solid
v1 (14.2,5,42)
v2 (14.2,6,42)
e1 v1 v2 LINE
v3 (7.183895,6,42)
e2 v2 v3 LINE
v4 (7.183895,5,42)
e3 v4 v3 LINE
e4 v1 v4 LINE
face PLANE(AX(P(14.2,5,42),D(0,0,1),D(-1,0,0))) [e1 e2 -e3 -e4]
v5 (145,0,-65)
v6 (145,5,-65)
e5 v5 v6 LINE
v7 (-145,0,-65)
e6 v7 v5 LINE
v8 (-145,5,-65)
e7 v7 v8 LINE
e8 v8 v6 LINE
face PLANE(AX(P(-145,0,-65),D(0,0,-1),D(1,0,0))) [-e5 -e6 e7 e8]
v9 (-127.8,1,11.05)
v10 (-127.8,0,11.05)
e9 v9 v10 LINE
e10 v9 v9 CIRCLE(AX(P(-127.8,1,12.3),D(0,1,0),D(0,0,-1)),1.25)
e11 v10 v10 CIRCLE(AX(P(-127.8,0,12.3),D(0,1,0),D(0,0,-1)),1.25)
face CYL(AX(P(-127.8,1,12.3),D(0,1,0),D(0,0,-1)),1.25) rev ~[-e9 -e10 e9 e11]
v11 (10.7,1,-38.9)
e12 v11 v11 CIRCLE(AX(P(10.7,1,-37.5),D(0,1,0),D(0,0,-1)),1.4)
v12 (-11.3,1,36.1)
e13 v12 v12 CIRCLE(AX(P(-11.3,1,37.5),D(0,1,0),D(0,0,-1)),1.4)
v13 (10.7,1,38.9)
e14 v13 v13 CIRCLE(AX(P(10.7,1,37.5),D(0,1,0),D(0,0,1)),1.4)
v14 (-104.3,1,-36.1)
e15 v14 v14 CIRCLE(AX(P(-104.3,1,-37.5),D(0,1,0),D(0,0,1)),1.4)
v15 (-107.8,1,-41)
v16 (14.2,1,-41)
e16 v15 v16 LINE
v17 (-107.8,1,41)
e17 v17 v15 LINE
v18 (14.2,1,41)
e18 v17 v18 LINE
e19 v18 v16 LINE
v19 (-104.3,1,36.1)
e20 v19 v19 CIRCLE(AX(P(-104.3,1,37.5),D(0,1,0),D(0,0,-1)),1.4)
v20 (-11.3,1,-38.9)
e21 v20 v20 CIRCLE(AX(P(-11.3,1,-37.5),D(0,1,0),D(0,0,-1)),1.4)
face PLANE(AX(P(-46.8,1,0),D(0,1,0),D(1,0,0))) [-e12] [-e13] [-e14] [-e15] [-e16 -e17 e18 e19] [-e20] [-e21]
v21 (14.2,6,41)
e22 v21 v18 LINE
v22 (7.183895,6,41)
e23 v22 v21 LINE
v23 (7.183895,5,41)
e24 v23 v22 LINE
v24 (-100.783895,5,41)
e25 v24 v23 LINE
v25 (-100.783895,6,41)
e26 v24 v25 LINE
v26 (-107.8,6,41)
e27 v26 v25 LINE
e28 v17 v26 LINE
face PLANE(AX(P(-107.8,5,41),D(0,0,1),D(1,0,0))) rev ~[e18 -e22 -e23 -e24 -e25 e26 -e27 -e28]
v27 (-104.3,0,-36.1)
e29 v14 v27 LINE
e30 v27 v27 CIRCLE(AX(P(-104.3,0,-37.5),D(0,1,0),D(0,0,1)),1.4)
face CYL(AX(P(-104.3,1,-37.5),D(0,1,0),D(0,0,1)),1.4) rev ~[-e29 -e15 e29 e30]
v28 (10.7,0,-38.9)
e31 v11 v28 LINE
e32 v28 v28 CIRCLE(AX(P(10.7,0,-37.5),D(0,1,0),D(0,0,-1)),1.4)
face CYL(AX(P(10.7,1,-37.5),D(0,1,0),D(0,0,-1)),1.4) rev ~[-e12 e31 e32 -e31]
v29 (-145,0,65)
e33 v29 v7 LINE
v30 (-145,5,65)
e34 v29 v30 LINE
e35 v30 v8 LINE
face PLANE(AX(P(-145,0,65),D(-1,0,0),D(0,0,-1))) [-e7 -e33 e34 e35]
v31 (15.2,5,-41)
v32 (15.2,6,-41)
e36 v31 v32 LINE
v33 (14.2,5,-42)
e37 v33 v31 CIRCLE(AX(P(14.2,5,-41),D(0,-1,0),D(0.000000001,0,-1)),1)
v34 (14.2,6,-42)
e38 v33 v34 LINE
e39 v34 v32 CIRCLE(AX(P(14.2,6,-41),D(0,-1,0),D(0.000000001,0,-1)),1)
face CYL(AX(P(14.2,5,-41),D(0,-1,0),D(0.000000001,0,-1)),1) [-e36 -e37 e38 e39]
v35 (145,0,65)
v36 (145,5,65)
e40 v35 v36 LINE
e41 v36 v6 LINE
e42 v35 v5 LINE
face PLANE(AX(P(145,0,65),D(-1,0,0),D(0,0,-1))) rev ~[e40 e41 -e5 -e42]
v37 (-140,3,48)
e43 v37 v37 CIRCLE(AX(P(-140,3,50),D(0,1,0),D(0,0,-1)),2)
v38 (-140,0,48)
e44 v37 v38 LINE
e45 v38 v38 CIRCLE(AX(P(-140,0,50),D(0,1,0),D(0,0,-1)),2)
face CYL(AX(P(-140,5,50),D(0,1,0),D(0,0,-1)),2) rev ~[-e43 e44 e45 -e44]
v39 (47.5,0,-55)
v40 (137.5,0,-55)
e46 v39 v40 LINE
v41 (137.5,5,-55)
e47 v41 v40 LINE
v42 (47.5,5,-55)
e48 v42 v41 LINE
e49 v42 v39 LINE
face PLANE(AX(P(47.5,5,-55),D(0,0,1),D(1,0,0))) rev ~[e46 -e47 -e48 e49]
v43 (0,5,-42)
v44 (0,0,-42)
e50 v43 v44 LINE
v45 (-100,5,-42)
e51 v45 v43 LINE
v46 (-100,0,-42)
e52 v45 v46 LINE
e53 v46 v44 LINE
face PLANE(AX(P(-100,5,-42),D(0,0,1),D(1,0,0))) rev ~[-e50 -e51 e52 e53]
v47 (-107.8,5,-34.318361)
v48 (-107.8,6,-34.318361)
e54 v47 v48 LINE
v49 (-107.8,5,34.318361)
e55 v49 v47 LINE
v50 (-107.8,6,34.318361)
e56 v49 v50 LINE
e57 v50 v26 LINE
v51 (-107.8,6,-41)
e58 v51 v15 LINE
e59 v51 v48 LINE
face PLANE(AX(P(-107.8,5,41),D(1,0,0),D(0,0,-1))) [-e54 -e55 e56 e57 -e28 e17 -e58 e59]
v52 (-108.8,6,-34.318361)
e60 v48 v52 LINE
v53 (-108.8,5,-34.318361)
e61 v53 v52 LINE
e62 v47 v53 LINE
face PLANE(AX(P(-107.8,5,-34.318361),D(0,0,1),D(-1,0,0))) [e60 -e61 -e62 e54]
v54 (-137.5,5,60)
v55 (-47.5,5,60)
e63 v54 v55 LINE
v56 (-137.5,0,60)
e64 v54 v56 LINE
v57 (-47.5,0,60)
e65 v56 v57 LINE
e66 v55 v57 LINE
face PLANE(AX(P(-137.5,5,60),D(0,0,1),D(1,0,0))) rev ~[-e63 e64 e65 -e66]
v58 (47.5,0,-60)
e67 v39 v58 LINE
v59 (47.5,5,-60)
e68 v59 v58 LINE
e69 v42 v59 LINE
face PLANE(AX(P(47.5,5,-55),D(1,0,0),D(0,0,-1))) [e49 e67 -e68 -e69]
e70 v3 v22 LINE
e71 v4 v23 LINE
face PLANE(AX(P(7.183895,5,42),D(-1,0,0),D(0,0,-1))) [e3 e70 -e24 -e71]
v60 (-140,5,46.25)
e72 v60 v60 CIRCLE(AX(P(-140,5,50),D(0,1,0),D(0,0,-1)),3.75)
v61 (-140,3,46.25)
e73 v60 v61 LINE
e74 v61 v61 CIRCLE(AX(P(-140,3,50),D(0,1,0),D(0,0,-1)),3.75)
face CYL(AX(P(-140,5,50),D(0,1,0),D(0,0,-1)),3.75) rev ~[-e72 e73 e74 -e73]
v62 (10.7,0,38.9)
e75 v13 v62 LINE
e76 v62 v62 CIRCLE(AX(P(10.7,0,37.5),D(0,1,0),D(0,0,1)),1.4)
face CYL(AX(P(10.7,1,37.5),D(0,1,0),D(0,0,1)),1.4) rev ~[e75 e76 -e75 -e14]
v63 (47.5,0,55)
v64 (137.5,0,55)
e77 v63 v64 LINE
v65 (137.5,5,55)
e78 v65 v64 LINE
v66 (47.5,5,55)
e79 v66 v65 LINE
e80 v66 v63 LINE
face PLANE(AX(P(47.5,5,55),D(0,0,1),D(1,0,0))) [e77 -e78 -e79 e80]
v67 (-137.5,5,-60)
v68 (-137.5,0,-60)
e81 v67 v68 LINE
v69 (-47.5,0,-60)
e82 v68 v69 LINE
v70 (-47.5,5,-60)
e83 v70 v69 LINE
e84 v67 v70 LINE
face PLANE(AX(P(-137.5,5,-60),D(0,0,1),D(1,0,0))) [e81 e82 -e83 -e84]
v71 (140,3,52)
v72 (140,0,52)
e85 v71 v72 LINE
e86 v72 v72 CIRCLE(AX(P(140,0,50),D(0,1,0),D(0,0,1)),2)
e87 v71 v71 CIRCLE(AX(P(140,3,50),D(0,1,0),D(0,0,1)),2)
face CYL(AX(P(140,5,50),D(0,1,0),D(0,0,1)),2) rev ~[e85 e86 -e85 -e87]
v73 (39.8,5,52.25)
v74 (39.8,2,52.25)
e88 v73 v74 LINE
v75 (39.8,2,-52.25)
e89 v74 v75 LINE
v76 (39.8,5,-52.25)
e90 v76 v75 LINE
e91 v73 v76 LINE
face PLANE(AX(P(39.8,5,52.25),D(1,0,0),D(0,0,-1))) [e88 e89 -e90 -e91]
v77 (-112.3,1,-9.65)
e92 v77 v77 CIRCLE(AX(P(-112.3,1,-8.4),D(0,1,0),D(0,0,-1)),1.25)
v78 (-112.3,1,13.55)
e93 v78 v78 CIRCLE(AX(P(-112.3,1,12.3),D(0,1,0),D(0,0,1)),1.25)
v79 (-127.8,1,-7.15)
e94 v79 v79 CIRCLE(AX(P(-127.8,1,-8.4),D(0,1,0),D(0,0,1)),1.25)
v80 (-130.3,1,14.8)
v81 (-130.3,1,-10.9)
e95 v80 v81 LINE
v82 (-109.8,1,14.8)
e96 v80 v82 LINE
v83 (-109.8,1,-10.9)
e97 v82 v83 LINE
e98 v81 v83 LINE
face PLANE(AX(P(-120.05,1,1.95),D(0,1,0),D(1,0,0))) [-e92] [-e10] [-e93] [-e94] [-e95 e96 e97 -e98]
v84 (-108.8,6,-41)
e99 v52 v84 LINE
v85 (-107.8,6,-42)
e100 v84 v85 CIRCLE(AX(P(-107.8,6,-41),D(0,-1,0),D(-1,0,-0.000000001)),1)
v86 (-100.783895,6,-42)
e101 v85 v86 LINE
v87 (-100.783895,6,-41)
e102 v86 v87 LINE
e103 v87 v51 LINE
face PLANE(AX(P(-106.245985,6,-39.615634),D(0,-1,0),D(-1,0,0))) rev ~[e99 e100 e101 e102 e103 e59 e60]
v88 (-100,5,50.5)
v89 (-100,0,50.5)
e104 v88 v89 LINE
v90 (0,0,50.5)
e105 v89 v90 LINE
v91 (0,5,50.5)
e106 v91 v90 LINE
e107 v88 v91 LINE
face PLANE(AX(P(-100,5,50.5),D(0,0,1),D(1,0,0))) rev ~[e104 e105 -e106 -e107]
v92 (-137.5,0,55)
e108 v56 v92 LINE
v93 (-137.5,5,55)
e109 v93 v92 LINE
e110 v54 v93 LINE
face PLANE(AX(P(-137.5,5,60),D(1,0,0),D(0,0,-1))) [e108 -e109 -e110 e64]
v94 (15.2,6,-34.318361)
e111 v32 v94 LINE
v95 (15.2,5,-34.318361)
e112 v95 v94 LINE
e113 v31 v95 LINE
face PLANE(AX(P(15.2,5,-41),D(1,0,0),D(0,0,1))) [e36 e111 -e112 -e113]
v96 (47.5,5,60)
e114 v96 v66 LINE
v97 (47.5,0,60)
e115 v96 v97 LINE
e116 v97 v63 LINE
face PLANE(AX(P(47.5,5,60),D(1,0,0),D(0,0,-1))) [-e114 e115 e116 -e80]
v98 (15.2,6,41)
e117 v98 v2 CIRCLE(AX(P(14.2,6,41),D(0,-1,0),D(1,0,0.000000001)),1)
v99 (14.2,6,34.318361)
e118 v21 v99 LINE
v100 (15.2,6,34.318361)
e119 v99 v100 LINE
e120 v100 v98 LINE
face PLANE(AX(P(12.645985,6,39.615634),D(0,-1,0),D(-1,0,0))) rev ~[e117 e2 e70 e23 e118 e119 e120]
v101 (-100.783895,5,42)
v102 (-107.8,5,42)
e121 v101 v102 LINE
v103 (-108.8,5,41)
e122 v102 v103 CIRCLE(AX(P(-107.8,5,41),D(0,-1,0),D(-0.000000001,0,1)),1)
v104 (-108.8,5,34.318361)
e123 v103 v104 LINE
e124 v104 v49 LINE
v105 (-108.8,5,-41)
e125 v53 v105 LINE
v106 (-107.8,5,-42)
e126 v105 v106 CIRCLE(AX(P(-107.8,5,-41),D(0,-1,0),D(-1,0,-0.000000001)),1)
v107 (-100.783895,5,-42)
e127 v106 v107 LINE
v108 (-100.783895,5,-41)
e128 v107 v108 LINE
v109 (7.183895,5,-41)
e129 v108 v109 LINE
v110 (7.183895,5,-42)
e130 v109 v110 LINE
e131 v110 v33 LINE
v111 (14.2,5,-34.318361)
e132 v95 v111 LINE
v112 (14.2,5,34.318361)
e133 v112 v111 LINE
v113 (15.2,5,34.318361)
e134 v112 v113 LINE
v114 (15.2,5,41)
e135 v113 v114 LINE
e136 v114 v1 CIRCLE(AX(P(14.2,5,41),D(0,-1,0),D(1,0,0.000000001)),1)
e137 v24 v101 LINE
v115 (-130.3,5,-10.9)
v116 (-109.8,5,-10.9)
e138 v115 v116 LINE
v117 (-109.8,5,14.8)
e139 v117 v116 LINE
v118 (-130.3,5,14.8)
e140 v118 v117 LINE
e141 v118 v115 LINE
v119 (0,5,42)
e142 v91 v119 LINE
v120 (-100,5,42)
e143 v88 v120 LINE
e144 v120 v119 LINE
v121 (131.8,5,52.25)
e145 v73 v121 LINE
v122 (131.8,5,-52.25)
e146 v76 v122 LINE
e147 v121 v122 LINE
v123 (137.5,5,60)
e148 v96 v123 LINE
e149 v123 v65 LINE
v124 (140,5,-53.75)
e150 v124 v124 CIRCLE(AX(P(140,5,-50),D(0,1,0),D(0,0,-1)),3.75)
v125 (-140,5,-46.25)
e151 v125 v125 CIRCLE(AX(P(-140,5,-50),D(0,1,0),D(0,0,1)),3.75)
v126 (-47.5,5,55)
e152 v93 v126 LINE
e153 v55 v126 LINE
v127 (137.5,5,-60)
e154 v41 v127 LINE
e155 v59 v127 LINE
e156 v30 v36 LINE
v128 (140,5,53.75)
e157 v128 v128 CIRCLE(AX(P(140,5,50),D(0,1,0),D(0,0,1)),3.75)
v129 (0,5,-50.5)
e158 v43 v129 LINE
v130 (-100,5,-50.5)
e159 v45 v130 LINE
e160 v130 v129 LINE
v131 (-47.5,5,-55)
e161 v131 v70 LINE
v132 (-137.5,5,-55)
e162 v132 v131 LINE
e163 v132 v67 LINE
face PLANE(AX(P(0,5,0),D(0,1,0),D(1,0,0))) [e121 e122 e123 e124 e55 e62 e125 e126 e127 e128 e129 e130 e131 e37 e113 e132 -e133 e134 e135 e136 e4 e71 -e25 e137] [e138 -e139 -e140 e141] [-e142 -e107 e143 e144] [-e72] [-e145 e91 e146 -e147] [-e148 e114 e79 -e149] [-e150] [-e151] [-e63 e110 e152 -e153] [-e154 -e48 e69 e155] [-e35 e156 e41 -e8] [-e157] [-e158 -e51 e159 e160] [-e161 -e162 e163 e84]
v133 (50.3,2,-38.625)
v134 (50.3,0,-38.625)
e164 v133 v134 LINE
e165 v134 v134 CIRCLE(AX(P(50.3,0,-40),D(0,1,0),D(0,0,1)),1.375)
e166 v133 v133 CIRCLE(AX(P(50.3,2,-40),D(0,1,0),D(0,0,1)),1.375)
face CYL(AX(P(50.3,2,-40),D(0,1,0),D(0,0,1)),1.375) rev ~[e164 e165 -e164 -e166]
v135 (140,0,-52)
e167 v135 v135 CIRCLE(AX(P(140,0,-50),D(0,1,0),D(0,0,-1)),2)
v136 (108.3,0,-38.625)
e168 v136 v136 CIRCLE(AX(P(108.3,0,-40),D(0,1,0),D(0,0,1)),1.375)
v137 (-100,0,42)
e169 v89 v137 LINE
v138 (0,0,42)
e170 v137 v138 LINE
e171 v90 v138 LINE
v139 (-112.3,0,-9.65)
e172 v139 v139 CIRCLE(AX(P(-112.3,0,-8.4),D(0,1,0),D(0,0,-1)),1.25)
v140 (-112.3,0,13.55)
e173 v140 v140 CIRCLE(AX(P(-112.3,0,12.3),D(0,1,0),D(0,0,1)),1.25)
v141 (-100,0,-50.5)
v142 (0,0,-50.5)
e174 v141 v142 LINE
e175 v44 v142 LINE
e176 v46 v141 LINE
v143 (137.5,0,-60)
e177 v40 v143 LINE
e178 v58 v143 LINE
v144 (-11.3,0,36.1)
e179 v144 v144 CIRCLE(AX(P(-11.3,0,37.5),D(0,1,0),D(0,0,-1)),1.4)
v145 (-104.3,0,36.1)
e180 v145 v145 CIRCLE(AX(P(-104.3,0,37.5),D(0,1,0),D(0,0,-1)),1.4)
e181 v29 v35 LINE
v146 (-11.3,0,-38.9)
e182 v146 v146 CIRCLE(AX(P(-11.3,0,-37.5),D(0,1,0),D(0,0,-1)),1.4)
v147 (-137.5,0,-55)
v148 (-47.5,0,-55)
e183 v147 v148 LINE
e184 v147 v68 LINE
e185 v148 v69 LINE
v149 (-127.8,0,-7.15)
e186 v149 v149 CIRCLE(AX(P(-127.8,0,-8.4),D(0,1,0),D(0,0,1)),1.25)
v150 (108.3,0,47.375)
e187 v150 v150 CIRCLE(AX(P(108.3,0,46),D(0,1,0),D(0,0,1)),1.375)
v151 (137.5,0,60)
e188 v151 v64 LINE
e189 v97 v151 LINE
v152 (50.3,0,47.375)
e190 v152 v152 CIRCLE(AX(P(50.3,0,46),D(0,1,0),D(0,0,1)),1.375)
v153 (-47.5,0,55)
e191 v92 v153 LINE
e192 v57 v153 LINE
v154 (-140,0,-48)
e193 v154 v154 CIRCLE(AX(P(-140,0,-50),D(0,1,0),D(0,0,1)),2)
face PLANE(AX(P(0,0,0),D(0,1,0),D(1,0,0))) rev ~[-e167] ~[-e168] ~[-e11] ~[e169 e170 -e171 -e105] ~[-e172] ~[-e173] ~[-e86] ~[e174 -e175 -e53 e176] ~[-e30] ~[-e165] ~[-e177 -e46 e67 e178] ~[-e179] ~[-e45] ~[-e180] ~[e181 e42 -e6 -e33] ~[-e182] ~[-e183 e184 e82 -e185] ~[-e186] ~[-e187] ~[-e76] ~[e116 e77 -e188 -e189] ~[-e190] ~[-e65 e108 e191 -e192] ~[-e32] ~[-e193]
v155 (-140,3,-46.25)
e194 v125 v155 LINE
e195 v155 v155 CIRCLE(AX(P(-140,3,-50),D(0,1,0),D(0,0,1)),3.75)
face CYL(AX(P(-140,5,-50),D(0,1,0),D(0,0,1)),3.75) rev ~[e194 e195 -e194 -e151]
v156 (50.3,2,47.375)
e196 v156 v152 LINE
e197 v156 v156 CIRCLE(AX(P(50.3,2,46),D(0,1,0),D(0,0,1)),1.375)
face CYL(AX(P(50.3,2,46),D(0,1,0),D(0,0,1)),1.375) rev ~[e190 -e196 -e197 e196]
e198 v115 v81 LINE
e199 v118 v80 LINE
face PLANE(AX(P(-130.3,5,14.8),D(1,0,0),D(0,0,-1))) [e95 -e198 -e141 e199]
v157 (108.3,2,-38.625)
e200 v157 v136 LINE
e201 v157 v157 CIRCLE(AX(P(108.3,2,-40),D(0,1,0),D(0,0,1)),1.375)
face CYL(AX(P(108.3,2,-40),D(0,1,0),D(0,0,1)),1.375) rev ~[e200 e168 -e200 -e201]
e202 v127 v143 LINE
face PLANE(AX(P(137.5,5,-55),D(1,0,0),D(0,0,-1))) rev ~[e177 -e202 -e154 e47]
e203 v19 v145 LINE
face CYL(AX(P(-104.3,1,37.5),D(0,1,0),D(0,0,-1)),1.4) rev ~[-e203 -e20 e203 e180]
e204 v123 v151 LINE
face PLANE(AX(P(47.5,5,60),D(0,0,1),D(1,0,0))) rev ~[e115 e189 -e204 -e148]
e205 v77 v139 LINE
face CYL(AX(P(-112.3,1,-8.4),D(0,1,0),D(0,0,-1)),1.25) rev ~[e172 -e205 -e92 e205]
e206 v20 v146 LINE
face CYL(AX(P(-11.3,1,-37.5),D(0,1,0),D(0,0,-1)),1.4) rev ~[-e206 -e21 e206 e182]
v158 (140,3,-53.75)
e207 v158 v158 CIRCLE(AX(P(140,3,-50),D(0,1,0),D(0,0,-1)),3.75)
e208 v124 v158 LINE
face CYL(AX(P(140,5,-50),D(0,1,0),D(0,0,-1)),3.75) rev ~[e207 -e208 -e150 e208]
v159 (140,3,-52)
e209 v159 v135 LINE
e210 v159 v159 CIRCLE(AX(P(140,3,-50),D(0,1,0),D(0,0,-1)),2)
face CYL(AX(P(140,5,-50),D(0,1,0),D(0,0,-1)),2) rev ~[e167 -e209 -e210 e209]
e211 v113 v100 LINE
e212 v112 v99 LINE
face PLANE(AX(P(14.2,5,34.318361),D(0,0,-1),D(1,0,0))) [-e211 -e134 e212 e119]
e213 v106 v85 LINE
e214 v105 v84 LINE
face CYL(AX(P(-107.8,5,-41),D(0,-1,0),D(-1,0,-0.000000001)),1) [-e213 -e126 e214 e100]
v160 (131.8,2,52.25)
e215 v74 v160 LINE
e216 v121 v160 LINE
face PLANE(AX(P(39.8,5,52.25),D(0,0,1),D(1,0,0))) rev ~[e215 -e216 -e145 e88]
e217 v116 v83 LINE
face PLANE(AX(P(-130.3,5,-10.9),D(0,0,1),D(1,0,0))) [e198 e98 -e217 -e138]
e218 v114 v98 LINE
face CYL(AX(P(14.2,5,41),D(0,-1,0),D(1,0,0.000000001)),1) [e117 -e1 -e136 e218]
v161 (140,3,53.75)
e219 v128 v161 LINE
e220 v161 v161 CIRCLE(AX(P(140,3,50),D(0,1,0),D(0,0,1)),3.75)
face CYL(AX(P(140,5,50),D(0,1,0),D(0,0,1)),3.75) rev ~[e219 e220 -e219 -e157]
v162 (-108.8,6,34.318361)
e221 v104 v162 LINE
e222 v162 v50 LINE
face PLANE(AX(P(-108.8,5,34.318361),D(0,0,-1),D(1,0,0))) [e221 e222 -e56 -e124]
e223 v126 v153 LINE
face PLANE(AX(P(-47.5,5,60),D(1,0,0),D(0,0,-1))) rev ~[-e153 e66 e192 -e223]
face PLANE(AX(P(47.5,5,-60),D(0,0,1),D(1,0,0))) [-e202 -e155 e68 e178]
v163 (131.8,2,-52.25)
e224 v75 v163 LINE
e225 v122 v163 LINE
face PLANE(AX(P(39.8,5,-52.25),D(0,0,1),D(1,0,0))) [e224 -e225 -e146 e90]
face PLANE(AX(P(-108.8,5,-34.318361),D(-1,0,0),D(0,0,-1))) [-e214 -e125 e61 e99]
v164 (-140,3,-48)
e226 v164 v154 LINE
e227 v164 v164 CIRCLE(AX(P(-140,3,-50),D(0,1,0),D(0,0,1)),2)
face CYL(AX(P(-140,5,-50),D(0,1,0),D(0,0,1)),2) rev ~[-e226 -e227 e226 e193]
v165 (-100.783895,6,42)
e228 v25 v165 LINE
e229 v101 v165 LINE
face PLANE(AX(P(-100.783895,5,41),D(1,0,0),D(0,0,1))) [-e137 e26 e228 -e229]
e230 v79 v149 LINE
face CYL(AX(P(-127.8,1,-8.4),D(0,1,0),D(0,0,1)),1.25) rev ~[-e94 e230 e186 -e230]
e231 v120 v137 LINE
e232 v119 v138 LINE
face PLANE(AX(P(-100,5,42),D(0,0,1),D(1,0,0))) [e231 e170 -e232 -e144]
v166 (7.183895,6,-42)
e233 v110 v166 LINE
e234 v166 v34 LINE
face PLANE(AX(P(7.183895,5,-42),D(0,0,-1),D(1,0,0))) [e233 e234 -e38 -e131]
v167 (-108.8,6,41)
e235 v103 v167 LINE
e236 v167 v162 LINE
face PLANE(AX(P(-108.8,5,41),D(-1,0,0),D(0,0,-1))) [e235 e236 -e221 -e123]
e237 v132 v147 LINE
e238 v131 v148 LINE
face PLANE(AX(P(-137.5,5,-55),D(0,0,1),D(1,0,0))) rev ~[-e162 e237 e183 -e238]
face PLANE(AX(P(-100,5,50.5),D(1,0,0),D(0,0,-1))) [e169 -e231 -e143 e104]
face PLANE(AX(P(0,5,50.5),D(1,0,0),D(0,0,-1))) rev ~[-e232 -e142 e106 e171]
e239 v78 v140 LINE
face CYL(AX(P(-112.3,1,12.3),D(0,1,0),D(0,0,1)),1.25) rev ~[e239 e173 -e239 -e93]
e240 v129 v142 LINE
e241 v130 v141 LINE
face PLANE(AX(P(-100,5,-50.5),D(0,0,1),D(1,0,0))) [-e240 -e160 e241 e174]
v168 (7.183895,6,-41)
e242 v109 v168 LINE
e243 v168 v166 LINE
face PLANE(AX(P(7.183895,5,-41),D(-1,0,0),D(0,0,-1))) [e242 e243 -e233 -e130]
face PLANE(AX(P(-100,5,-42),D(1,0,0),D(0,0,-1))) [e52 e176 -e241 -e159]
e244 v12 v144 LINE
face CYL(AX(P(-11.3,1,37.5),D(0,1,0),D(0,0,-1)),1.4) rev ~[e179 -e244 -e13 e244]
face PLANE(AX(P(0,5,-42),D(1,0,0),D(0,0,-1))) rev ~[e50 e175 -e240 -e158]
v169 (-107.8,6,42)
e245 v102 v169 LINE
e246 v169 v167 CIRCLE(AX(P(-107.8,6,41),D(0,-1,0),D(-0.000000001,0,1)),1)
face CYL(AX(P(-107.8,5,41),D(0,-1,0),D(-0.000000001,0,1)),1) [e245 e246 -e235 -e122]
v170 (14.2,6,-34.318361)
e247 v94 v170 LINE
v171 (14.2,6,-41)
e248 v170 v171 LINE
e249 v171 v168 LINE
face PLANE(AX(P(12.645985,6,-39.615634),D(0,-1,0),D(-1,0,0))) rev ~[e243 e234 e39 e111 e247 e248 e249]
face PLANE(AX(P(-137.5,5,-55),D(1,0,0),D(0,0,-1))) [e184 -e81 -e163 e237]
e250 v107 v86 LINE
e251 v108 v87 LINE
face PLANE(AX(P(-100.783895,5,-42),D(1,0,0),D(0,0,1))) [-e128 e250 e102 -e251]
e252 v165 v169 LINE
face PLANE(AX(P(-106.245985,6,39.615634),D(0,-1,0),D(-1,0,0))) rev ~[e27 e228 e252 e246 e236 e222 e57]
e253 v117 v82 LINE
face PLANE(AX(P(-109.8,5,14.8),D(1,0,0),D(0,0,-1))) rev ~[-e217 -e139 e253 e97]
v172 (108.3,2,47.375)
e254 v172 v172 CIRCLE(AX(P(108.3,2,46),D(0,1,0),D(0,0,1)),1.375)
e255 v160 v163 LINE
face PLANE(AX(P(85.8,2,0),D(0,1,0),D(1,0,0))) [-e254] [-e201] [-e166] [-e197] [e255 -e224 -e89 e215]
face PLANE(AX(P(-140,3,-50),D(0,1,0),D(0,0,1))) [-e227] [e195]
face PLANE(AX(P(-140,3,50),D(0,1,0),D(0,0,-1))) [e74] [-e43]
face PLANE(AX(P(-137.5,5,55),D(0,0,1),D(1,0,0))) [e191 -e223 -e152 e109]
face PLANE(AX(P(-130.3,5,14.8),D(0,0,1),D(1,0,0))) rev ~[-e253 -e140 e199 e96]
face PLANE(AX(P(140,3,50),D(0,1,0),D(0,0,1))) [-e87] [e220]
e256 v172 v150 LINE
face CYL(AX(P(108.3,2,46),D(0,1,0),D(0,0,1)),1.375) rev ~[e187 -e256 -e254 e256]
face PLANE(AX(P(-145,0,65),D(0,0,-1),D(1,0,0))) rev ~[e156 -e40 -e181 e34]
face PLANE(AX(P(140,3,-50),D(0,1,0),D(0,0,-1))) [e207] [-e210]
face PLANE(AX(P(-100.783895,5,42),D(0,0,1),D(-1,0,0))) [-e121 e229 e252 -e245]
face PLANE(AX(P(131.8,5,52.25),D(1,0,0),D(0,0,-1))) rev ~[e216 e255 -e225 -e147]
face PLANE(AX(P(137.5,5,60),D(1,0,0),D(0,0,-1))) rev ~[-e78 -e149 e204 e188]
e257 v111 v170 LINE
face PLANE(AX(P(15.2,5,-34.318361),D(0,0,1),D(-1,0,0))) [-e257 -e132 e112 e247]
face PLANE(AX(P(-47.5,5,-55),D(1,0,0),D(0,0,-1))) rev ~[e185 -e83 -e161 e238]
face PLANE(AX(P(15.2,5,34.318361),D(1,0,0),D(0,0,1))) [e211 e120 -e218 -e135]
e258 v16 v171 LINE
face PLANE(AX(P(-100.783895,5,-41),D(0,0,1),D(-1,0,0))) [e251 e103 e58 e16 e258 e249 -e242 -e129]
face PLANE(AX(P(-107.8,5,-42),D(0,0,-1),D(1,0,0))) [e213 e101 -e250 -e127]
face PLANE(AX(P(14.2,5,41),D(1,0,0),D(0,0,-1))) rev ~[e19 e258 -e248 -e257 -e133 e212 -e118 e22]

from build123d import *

# Parameters (mm, degrees)
CROQUIS2_W              = 290
CROQUIS2_H              = 130
SALIENTE_EXTRUIR1_DEPTH = 5
CROQUIS3_W              = 90
CROQUIS3_H              = 5
CORTAR_EXTRUIR1_DEPTH   = 159.981130956
CROQUIS4_W              = 20.5
CROQUIS4_H              = 25.7
CORTAR_EXTRUIR2_DEPTH   = 4
CROQUIS5_R              = 1.25
CORTAR_EXTRUIR3_DEPTH   = 4
CROQUIS6_W              = 92
CROQUIS6_H              = 104.5
CORTAR_EXTRUIR4_DEPTH   = 3
CROQUIS7_W              = 100
CROQUIS7_H              = 8.5
CORTAR_EXTRUIR5_DEPTH   = 159.981130956
CROQUIS8_R              = 2
CORTAR_EXTRUIR6_DEPTH   = 159.981130956
CROQUIS9_R              = 3.75
CORTAR_EXTRUIR7_DEPTH   = 2
CROQUIS10_W             = 122
CROQUIS10_H             = 82
CORTAR_EXTRUIR8_DEPTH   = 4
CROQUIS13_R             = 1.4
CORTAR_EXTRUIR9_DEPTH   = 3
CROQUIS14_R             = 1.4
CORTAR_EXTRUIR10_DEPTH  = 3
SALIENTE_EXTRUIR2_DEPTH = 1
CROQUIS16_R             = 1.375
CORTAR_EXTRUIR11_DEPTH  = 159.95282319


with BuildPart() as part:
    # Croquis2 → Saliente-Extruir1 (new body)
    with BuildSketch(Plane(origin=(0, 0, 0), x_dir=(1, 0, 0), z_dir=(0, 1, 0))):
        Rectangle(CROQUIS2_W, CROQUIS2_H)
    extrude(amount=SALIENTE_EXTRUIR1_DEPTH)

    # Croquis3 → Cortar-Extruir1 (cut, through all)
    with BuildSketch(Plane(origin=(0, 5, 0), x_dir=(1, 0, 0), z_dir=(0, 1, 0))):
        with Locations((92.5, -57.5)):
            Rectangle(CROQUIS3_W, CROQUIS3_H)
        with Locations((-92.5, -57.5)):
            Rectangle(CROQUIS3_W, CROQUIS3_H)
        with Locations((92.5, 57.5)):
            Rectangle(CROQUIS3_W, CROQUIS3_H)
        with Locations((-92.5, 57.5)):
            Rectangle(CROQUIS3_W, CROQUIS3_H)
    extrude(amount=-CORTAR_EXTRUIR1_DEPTH, mode=Mode.SUBTRACT)

    # Croquis4 → Cortar-Extruir2 (cut)
    with BuildSketch(Plane(origin=(0, 5, 0), x_dir=(1, 0, 0), z_dir=(0, 1, 0))):
        with Locations((-120.05, -1.95)):
            Rectangle(CROQUIS4_W, CROQUIS4_H)
    extrude(amount=-CORTAR_EXTRUIR2_DEPTH, mode=Mode.SUBTRACT)

    # Croquis5 → Cortar-Extruir3 (cut)
    with BuildSketch(Plane(origin=(0, 1, 0), x_dir=(1, 0, 0), z_dir=(0, 1, 0))):
        with Locations(Location((-127.8, 8.4, 0), (0, 0, 270))):
            Circle(CROQUIS5_R)
        with Locations(Location((-112.3, 8.4, 0), (0, 0, 90))):
            Circle(CROQUIS5_R)
        with Locations(Location((-112.3, -12.3, 0), (0, 0, 270))):
            Circle(CROQUIS5_R)
        with Locations(Location((-127.8, -12.3, 0), (0, 0, 90))):
            Circle(CROQUIS5_R)
    extrude(amount=-CORTAR_EXTRUIR3_DEPTH, mode=Mode.SUBTRACT)

    # Croquis6 → Cortar-Extruir4 (cut)
    with BuildSketch(Plane(origin=(0, 5, 0), x_dir=(1, 0, 0), z_dir=(0, 1, 0))):
        with Locations((85.8, 0)):
            Rectangle(CROQUIS6_W, CROQUIS6_H)
    extrude(amount=-CORTAR_EXTRUIR4_DEPTH, mode=Mode.SUBTRACT)

    # Croquis7 → Cortar-Extruir5 (cut, through all)
    with BuildSketch(Plane(origin=(0, 5, 0), x_dir=(1, 0, 0), z_dir=(0, 1, 0))):
        with Locations((-50, -46.25)):
            Rectangle(CROQUIS7_W, CROQUIS7_H)
        with Locations((-50, 46.25)):
            Rectangle(CROQUIS7_W, CROQUIS7_H)
    extrude(amount=-CORTAR_EXTRUIR5_DEPTH, mode=Mode.SUBTRACT)

    # Croquis8 → Cortar-Extruir6 (cut, through all)
    with BuildSketch(Plane(origin=(0, 5, 0), x_dir=(1, 0, 0), z_dir=(0, 1, 0))):
        with Locations(Location((-140, 50, 0), (0, 0, 270))):
            Circle(CROQUIS8_R)
        with Locations(Location((140, 50, 0), (0, 0, 90))):
            Circle(CROQUIS8_R)
        with Locations(Location((140, -50, 0), (0, 0, 270))):
            Circle(CROQUIS8_R)
        with Locations(Location((-140, -50, 0), (0, 0, 90))):
            Circle(CROQUIS8_R)
    extrude(amount=-CORTAR_EXTRUIR6_DEPTH, mode=Mode.SUBTRACT)

    # Croquis9 → Cortar-Extruir7 (cut)
    with BuildSketch(Plane(origin=(0, 5, 0), x_dir=(1, 0, 0), z_dir=(0, 1, 0))):
        with Locations(Location((-140, 50, 0), (0, 0, 270))):
            Circle(CROQUIS9_R)
        with Locations(Location((-140, -50, 0), (0, 0, 90))):
            Circle(CROQUIS9_R)
        with Locations(Location((140, -50, 0), (0, 0, 270))):
            Circle(CROQUIS9_R)
        with Locations(Location((140, 50, 0), (0, 0, 90))):
            Circle(CROQUIS9_R)
    extrude(amount=-CORTAR_EXTRUIR7_DEPTH, mode=Mode.SUBTRACT)

    # Croquis10 → Cortar-Extruir8 (cut)
    with BuildSketch(Plane(origin=(0, 5, 0), x_dir=(1, 0, 0), z_dir=(0, 1, 0))):
        with Locations((-46.8, 0)):
            Rectangle(CROQUIS10_W, CROQUIS10_H)
    extrude(amount=-CORTAR_EXTRUIR8_DEPTH, mode=Mode.SUBTRACT)

    # Croquis13 → Cortar-Extruir9 (cut)
    with BuildSketch(Plane(origin=(0, 1, 0), x_dir=(1, 0, 0), z_dir=(0, 1, 0))):
        with Locations(Location((-104.3, 37.5, 0), (0, 0, 270))):
            Circle(CROQUIS13_R)
        with Locations(Location((10.7, 37.5, 0), (0, 0, 90))):
            Circle(CROQUIS13_R)
        with Locations(Location((10.7, -37.5, 0), (0, 0, 270))):
            Circle(CROQUIS13_R)
        with Locations(Location((-104.3, -37.5, 0), (0, 0, 90))):
            Circle(CROQUIS13_R)
    extrude(amount=-CORTAR_EXTRUIR9_DEPTH, mode=Mode.SUBTRACT)

    # Croquis14 → Cortar-Extruir10 (cut)
    with BuildSketch(Plane(origin=(0, 1, 0), x_dir=(1, 0, 0), z_dir=(0, 1, 0))):
        with Locations(Location((-104.3, -37.5, 0), (0, 0, 90))):
            Circle(CROQUIS14_R)
        with Locations(Location((-104.3, 37.5, 0), (0, 0, 270))):
            Circle(CROQUIS14_R)
        with Locations(Location((-11.3, 37.5, 0), (0, 0, 90))):
            Circle(CROQUIS14_R)
        with Locations(Location((-11.3, -37.5, 0), (0, 0, 90))):
            Circle(CROQUIS14_R)
    extrude(amount=-CORTAR_EXTRUIR10_DEPTH, mode=Mode.SUBTRACT)

    # Croquis15 → Saliente-Extruir2 (add)
    with BuildSketch(Plane(origin=(0, 5, 0), x_dir=(1, 0, 0), z_dir=(0, 1, 0))):
        with BuildLine():
            Line((-107.8, 42), (-100.783894533, 42))
            Line((-100.783894533, 42), (-100.783894533, 41))
            Line((-100.783894533, 41), (-107.8, 41))
            Line((-107.8, 41), (-107.8, 34.318360621))
            Line((-107.8, 34.318360621), (-108.8, 34.318360621))
            Line((-108.8, 34.318360621), (-108.8, 41))
            ThreePointArc((-108.8, 41), (-108.507106781, 41.707106781), (-107.8, 42))
        make_face()
        with BuildLine():
            Line((15.2, 41), (15.2, 34.318360621))
            Line((15.2, 34.318360621), (14.2, 34.318360621))
            Line((14.2, 34.318360621), (14.2, 41))
            Line((14.2, 41), (7.183894533, 41))
            Line((7.183894533, 41), (7.183894533, 42))
            Line((7.183894533, 42), (14.2, 42))
            ThreePointArc((14.2, 42), (14.907106781, 41.707106781), (15.2, 41))
        make_face()
        with BuildLine():
            Line((14.2, -42), (7.183894533, -42))
            Line((7.183894533, -42), (7.183894533, -41))
            Line((7.183894533, -41), (14.2, -41))
            Line((14.2, -41), (14.2, -34.318360621))
            Line((14.2, -34.318360621), (15.2, -34.318360621))
            Line((15.2, -34.318360621), (15.2, -41))
            ThreePointArc((15.2, -41), (14.907106781, -41.707106781), (14.2, -42))
        make_face()
        with BuildLine():
            Line((-108.8, -41), (-108.8, -34.318360621))
            Line((-108.8, -34.318360621), (-107.8, -34.318360621))
            Line((-107.8, -34.318360621), (-107.8, -41))
            Line((-107.8, -41), (-100.783894533, -41))
            Line((-100.783894533, -41), (-100.783894533, -42))
            Line((-100.783894533, -42), (-107.8, -42))
            ThreePointArc((-107.8, -42), (-108.507106781, -41.707106781), (-108.8, -41))
        make_face()
    extrude(amount=SALIENTE_EXTRUIR2_DEPTH)

    # Croquis16 → Cortar-Extruir11 (cut, through all)
    with BuildSketch(Plane(origin=(0, 2, 0), x_dir=(1, 0, 0), z_dir=(0, 1, 0))):
        with Locations(Location((50.3, 40, 0), (0, 0, 270))):
            Circle(CROQUIS16_R)
        with Locations(Location((50.3, -46, 0), (0, 0, 270))):
            Circle(CROQUIS16_R)
        with Locations(Location((108.3, 40, 0), (0, 0, 270))):
            Circle(CROQUIS16_R)
        with Locations(Location((108.3, -46, 0), (0, 0, 270))):
            Circle(CROQUIS16_R)
    extrude(amount=-CORTAR_EXTRUIR11_DEPTH, mode=Mode.SUBTRACT)


solid = part.part
